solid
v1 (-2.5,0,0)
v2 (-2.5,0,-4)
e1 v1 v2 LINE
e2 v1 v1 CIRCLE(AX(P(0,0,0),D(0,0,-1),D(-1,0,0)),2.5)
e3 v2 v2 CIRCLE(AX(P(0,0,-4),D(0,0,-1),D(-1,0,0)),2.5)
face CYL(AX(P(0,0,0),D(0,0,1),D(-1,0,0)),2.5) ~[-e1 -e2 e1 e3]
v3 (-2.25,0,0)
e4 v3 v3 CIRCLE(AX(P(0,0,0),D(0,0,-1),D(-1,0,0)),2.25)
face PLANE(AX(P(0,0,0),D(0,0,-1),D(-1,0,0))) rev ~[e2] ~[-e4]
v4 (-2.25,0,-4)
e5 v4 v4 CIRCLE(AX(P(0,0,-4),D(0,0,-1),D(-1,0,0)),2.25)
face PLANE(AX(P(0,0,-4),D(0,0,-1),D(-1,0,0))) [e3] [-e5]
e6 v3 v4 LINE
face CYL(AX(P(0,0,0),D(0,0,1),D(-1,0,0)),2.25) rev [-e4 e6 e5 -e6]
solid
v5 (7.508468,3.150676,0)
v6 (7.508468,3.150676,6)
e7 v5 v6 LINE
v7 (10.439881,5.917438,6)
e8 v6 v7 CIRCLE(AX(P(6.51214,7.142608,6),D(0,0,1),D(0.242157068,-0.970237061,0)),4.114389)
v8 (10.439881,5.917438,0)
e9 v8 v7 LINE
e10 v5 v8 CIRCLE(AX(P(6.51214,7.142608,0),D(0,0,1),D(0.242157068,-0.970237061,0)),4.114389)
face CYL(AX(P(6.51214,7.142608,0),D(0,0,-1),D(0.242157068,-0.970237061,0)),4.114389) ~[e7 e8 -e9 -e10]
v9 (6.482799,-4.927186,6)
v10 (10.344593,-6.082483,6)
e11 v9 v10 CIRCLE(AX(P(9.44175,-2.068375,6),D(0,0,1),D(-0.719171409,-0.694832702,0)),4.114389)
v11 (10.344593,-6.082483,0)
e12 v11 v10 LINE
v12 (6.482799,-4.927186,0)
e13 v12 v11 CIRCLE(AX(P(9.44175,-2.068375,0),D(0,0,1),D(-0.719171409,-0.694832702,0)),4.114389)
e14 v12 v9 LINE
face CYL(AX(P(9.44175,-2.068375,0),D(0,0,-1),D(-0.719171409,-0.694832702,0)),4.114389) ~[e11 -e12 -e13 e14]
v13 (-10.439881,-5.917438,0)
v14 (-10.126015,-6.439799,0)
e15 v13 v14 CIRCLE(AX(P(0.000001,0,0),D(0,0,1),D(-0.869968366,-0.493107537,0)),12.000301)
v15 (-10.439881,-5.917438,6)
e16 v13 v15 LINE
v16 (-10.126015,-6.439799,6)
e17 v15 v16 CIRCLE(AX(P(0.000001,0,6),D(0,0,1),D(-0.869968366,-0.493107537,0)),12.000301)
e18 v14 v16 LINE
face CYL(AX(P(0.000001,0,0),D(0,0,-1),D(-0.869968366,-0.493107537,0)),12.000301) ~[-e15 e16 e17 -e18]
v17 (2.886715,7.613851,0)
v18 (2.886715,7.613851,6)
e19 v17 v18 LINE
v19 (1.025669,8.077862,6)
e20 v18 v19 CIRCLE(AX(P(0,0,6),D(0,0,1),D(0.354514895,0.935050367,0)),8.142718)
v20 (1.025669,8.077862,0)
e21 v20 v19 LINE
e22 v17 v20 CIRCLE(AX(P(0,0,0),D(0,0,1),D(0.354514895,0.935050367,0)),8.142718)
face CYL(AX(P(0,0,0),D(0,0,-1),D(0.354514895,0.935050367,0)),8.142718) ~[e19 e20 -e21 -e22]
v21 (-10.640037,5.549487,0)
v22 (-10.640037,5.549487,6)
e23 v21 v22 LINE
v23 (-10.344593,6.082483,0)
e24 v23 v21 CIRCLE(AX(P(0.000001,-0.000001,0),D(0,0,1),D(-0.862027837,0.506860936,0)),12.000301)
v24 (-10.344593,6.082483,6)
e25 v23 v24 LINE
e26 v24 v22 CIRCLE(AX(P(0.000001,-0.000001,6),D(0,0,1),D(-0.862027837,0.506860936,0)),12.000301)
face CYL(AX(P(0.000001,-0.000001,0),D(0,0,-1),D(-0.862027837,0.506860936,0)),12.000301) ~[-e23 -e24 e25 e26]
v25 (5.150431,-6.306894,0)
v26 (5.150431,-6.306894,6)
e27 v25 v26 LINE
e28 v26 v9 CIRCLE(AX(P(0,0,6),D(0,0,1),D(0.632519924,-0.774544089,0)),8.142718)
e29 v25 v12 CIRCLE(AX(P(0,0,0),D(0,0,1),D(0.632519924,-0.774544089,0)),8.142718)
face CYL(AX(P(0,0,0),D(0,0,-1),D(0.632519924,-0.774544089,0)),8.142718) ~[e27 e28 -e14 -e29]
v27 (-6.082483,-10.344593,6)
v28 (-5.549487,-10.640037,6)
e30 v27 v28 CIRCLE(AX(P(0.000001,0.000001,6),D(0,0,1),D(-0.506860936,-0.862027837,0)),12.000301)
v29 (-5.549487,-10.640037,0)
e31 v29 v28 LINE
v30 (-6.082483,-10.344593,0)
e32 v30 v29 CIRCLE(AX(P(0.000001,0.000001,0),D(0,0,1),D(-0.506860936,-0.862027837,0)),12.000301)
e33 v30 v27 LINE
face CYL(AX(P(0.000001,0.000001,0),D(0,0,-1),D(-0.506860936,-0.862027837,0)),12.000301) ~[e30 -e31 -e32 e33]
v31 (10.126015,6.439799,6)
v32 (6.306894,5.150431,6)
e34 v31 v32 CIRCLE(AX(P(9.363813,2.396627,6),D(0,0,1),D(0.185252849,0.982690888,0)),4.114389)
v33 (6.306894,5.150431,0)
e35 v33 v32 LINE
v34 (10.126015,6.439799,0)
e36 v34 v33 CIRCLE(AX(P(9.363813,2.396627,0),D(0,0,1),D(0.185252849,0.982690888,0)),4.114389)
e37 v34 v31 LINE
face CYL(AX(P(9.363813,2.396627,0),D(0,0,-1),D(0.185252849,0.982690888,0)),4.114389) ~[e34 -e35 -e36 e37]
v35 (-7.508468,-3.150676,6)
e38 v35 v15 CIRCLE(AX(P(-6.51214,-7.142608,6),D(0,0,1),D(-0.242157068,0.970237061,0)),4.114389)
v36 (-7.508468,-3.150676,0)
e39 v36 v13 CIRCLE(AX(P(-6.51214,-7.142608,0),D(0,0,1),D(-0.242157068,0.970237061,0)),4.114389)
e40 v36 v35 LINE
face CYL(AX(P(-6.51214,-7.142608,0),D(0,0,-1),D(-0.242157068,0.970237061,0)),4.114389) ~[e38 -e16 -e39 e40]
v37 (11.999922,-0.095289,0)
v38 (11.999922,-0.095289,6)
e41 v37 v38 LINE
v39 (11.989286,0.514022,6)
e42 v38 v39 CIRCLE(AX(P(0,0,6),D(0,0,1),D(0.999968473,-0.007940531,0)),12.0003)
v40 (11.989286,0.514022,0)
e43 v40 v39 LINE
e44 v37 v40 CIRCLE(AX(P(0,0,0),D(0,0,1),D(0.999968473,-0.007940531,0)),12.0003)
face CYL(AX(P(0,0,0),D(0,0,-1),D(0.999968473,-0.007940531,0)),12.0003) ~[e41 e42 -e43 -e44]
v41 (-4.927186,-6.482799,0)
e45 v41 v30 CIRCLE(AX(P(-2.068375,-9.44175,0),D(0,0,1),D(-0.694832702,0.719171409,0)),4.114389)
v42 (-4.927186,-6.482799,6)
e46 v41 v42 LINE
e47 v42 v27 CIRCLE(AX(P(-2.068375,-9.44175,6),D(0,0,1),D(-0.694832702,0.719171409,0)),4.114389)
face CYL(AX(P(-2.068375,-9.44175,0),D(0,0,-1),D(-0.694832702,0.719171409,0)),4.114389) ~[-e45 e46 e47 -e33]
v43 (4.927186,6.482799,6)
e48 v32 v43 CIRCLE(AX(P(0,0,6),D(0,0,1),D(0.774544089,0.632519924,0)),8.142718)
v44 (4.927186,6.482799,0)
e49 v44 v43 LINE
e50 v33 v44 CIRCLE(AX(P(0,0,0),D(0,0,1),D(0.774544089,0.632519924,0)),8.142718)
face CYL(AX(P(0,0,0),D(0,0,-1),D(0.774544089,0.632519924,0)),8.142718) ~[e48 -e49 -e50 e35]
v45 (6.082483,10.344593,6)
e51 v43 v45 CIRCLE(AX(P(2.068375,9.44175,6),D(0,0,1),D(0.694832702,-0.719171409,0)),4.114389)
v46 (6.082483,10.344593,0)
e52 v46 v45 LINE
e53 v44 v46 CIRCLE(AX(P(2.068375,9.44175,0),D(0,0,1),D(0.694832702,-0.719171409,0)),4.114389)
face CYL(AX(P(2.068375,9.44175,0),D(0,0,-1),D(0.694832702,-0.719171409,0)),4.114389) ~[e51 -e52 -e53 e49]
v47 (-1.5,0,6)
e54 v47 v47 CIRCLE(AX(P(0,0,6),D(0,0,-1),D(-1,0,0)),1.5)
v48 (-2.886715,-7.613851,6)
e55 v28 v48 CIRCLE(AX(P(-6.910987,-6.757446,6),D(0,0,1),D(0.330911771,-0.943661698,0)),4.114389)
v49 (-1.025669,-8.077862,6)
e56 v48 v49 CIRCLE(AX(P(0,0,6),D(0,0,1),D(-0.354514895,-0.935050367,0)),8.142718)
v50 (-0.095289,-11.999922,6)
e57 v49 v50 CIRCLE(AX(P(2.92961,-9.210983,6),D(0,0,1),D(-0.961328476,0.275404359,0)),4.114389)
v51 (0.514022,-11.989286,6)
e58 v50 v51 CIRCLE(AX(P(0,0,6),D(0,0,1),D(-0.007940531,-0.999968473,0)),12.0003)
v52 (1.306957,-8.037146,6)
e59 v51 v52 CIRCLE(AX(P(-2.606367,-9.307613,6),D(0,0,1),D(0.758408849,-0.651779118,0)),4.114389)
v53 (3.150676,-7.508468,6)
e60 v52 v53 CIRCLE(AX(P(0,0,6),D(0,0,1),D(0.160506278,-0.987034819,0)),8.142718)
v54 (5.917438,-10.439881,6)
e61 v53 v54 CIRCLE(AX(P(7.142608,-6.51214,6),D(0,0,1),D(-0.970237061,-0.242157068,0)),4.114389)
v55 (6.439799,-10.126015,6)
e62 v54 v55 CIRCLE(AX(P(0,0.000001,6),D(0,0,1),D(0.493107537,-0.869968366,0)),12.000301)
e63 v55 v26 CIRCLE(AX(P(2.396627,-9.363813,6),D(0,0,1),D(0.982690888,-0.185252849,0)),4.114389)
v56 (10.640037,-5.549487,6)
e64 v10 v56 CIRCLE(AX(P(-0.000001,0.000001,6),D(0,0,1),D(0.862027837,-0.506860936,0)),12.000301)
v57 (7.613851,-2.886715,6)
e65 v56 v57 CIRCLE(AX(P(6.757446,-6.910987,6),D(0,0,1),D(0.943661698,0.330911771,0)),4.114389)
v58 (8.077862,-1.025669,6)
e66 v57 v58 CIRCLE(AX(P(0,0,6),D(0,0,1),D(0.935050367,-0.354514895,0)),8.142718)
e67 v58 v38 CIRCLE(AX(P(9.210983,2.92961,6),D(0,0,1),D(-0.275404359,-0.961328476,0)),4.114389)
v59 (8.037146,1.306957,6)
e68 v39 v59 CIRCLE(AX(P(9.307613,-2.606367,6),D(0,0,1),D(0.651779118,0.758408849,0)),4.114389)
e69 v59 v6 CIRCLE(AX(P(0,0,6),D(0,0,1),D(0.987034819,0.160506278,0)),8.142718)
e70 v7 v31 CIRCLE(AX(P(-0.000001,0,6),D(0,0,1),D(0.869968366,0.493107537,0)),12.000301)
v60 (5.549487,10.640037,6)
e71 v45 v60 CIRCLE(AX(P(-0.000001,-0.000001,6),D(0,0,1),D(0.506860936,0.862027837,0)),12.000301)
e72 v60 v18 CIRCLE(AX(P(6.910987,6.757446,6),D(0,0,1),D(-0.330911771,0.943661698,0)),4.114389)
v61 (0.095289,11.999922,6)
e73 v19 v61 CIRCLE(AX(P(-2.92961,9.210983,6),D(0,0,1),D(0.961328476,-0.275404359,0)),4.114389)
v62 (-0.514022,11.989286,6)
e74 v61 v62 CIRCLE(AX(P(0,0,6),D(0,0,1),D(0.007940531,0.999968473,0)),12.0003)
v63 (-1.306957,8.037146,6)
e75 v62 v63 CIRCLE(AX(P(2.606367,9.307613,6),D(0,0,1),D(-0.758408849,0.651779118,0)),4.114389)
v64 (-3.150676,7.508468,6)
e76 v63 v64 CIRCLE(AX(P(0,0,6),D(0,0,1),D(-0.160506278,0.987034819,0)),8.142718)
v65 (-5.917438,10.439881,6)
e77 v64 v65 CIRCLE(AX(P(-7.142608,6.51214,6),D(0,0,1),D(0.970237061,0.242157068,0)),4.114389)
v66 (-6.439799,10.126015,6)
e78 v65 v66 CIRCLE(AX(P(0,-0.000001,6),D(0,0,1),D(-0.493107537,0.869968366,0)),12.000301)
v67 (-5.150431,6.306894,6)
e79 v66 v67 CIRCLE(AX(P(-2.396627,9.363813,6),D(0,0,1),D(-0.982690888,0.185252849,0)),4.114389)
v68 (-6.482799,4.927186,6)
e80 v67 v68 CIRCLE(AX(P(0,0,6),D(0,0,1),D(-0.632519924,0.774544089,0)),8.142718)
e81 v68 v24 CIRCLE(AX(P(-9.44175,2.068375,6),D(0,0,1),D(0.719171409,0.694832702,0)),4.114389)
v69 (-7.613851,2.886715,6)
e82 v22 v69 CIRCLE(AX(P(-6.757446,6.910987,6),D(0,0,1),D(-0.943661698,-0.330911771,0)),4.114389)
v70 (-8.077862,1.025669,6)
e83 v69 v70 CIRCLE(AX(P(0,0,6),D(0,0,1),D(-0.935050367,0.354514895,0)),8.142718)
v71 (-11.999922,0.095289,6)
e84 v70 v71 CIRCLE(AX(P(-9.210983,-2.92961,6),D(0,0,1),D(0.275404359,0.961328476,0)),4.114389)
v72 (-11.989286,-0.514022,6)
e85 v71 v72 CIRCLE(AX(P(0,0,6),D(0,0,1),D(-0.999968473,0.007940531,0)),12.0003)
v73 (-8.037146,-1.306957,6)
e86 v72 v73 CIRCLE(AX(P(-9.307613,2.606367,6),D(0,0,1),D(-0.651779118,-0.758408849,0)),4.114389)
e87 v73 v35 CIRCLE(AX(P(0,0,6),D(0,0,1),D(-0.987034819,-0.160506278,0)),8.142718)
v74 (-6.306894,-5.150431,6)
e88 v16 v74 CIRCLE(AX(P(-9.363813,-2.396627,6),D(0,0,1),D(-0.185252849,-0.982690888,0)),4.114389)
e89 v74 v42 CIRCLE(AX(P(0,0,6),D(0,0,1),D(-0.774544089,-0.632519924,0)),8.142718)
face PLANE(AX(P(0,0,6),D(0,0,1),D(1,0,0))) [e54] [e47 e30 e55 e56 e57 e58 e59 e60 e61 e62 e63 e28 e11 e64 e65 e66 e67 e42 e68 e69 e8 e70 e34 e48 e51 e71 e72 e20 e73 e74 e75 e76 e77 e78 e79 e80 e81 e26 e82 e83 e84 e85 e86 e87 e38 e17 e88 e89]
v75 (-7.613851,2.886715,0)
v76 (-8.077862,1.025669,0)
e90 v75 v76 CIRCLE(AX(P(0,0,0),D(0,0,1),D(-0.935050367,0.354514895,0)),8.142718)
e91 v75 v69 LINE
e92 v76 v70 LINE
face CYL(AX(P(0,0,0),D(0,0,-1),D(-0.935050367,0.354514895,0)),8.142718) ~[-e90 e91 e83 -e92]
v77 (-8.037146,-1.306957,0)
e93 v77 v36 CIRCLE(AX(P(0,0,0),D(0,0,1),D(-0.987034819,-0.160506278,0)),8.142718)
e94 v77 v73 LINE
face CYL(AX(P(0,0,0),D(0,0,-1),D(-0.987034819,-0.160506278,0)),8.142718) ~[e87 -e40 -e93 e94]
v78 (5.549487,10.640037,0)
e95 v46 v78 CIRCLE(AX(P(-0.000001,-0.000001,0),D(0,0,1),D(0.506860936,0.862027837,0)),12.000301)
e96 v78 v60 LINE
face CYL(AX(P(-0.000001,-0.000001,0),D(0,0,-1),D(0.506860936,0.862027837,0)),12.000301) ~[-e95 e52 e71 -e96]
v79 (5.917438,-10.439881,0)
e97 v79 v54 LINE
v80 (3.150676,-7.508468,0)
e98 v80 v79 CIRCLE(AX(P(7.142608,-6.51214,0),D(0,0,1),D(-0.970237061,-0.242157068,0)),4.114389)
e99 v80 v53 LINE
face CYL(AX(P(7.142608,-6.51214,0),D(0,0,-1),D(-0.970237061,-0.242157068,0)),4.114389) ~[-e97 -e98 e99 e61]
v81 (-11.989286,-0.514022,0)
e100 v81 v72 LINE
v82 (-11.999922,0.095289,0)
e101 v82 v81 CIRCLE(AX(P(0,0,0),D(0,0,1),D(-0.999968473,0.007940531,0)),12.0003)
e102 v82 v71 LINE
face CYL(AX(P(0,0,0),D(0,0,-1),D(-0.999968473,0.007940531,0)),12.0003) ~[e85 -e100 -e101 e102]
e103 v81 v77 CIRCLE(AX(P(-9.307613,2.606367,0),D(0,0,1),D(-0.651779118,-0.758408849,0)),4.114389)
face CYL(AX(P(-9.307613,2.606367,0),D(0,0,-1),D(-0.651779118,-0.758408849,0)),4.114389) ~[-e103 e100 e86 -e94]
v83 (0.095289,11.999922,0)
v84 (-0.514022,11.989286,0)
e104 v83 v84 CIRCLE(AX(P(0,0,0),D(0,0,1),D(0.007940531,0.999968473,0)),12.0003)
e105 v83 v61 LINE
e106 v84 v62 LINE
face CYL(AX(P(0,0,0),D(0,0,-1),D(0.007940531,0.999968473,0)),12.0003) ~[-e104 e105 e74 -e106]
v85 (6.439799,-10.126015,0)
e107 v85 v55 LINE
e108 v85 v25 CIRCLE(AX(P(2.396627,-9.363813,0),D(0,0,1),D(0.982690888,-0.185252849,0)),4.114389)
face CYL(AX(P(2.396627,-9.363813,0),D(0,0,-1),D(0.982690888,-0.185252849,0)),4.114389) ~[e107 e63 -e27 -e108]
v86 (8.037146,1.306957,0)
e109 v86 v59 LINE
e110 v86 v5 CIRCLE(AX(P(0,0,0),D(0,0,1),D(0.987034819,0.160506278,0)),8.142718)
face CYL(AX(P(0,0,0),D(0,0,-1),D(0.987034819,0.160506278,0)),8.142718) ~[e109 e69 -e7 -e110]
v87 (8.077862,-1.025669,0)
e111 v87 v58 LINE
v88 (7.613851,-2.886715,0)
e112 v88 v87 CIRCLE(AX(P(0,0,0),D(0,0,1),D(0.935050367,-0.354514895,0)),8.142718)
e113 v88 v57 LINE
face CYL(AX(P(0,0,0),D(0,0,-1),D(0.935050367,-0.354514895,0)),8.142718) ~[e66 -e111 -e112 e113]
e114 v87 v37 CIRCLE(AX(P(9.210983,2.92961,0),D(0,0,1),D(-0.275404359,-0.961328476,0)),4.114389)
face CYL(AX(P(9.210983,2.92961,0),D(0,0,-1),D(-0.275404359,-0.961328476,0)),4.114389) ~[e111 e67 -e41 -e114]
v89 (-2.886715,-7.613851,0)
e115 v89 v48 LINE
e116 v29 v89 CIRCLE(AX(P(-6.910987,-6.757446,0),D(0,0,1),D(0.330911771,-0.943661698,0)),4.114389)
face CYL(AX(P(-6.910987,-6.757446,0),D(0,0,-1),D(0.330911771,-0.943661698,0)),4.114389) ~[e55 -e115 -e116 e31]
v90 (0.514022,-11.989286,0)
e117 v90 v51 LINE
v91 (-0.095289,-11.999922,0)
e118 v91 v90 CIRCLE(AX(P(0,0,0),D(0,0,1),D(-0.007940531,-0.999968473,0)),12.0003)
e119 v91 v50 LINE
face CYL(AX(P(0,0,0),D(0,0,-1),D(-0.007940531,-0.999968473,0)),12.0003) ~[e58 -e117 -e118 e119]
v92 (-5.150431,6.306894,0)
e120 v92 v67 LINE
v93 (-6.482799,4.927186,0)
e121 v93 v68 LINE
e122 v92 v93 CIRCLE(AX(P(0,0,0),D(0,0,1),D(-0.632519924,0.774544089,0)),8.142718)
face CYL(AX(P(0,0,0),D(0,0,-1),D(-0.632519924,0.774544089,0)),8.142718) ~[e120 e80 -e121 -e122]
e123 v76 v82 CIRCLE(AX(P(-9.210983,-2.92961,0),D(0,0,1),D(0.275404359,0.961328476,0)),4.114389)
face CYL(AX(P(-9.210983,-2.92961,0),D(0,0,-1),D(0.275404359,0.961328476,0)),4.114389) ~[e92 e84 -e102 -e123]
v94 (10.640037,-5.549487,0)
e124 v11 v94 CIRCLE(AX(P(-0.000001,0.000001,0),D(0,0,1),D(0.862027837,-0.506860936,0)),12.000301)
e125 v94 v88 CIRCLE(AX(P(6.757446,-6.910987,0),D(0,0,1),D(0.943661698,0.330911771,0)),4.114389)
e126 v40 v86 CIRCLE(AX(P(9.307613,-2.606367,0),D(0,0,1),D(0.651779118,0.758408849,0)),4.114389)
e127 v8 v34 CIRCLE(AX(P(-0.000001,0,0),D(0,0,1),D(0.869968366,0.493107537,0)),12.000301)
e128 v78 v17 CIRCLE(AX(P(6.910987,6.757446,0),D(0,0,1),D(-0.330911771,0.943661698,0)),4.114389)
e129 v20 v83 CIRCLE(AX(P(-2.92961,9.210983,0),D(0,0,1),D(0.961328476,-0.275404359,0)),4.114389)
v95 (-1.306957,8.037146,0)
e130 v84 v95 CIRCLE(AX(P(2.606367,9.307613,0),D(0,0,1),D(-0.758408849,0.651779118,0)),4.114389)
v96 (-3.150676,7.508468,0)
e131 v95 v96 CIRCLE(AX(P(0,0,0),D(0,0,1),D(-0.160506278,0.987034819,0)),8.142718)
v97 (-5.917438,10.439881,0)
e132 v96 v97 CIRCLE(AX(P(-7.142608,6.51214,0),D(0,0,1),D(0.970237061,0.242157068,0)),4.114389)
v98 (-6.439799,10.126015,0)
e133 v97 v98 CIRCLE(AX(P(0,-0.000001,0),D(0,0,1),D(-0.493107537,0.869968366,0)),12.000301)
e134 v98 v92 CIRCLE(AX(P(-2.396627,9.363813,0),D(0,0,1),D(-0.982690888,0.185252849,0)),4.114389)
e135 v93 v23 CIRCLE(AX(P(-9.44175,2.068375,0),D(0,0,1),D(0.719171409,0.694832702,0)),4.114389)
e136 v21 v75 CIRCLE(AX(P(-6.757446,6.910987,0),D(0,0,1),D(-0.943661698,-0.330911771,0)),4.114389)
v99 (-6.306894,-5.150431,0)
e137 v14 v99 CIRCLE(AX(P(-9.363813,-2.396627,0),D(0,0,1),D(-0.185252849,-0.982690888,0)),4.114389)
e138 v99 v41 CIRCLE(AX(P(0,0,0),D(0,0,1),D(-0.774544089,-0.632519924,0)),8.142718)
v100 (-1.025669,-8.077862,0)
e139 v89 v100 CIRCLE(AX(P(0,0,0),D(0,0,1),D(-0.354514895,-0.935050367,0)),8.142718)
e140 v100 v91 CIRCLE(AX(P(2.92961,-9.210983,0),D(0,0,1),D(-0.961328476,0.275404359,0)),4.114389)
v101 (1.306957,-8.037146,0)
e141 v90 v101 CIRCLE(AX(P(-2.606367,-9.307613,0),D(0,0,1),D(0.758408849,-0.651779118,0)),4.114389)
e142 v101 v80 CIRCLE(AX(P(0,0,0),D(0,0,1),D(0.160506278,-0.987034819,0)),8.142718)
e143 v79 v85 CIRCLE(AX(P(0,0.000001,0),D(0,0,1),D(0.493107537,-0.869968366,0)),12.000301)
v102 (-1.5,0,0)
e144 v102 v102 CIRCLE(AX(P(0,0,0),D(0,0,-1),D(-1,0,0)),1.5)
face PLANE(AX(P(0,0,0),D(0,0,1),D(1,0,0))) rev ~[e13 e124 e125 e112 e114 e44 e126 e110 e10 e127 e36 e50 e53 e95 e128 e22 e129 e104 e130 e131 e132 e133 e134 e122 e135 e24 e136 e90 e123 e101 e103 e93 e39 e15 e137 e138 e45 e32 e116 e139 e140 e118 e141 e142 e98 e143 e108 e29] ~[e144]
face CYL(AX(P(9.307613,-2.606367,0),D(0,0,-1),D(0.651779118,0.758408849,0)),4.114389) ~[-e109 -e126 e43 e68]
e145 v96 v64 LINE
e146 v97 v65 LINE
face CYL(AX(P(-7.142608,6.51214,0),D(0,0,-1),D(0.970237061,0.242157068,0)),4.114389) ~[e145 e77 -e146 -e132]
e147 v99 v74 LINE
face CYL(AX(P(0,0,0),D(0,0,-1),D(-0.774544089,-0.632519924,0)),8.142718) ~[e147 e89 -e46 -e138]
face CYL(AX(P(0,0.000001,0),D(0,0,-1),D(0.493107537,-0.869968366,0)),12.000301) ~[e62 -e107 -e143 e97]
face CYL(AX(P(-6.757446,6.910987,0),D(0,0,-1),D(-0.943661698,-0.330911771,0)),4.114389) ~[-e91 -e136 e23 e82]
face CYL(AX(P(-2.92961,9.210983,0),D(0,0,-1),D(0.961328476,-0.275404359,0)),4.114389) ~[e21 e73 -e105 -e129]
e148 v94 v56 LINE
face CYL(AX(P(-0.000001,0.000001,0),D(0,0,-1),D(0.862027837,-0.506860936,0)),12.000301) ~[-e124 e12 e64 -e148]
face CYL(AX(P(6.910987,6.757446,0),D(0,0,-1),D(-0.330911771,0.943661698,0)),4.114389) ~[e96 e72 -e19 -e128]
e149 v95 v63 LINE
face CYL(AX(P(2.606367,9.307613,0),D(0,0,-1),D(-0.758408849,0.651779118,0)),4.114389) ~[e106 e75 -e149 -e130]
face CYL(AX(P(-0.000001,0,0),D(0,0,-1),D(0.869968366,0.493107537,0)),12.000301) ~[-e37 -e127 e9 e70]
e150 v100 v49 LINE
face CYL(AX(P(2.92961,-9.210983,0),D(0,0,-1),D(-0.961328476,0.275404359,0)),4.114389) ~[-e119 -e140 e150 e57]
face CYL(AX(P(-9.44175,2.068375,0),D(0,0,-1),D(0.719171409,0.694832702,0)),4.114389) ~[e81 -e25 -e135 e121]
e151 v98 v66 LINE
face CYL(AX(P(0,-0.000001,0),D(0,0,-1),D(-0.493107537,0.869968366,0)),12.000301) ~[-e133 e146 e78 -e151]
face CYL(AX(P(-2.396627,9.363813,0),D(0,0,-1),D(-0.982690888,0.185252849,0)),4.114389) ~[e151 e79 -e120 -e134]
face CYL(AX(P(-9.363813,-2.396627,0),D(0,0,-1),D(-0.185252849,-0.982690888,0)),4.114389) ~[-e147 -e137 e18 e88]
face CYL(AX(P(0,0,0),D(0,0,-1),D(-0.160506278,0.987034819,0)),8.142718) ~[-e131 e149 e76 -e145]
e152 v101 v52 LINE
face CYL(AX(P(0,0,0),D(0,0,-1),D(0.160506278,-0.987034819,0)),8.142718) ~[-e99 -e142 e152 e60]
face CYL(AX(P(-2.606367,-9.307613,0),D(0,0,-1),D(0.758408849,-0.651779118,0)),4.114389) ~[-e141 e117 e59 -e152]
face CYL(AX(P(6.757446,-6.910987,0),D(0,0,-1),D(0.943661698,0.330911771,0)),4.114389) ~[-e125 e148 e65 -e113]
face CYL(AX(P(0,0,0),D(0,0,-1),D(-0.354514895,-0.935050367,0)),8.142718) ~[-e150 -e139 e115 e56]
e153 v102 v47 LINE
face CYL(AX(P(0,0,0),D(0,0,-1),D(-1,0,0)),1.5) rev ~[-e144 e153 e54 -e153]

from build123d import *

# Parameters (mm, degrees)
BOSS_EXTRUDE1_DEPTH = 6
SKETCH3_R           = 1.5
CUT_EXTRUDE1_DEPTH  = 19.000399801
SKETCH4_R           = 2.5
SKETCH4_R_2         = 2.25
BOSS_EXTRUDE2_DEPTH = 4


with BuildPart() as part:
    # Sketch1 → Boss-Extrude1 (new body)
    with BuildSketch(Plane.XY):
        with BuildLine():
            ThreePointArc((-10.640037181, 5.549486938), (-9.475370008, 3.822122054), (-7.61385122, 2.886714725))
            ThreePointArc((-7.61385122, 2.886714725), (-7.90084423, 1.969901713), (-8.07786208, 1.025668813))
            ThreePointArc((-8.07786208, 1.025668813), (-10.160632754, 1.073683298), (-11.999921522, 0.095288749))
            ThreePointArc((-11.999921522, 0.095288749), (-11.998472146, -0.20943411), (-11.989285965, -0.514021924))
            ThreePointArc((-11.989285965, -0.514021924), (-10.116972164, -1.427630209), (-8.03714594, -1.306957324))
            ThreePointArc((-8.03714594, -1.306957324), (-7.827282671, -2.244437189), (-7.508468176, -3.150675792))
            ThreePointArc((-7.508468176, -3.150675792), (-9.336207732, -4.150479365), (-10.439881257, -5.917438283))
            ThreePointArc((-10.439881257, -5.917438283), (-10.28626463, -6.180611333), (-10.126015257, -6.439799027))
            ThreePointArc((-10.126015257, -6.439799027), (-8.047739799, -6.29485011), (-6.306893895, -5.150431214))
            ThreePointArc((-6.306893895, -5.150431214), (-5.656407041, -5.857380958), (-4.927186288, -6.482799363))
            ThreePointArc((-4.927186288, -6.482799363), (-6.010153389, -8.262524434), (-6.082483239, -10.344592507))
            ThreePointArc((-6.082483239, -10.344592507), (-5.817860813, -10.49569874), (-5.549486938, -10.640037181))
            ThreePointArc((-5.549486938, -10.640037181), (-3.822122054, -9.475370008), (-2.886714725, -7.61385122))
            ThreePointArc((-2.886714725, -7.61385122), (-1.969901713, -7.90084423), (-1.025668813, -8.07786208))
            ThreePointArc((-1.025668813, -8.07786208), (-1.073683298, -10.160632754), (-0.095288749, -11.999921522))
            ThreePointArc((-0.095288749, -11.999921522), (0.20943411, -11.998472146), (0.514021924, -11.989285965))
            ThreePointArc((0.514021924, -11.989285965), (1.427630209, -10.116972164), (1.306957324, -8.03714594))
            ThreePointArc((1.306957324, -8.03714594), (2.244437189, -7.827282671), (3.150675792, -7.508468176))
            ThreePointArc((3.150675792, -7.508468176), (4.150479365, -9.336207732), (5.917438283, -10.439881257))
            ThreePointArc((5.917438283, -10.439881257), (6.180611333, -10.28626463), (6.439799027, -10.126015257))
            ThreePointArc((6.439799027, -10.126015257), (6.29485011, -8.047739799), (5.150431214, -6.306893895))
            ThreePointArc((5.150431214, -6.306893895), (5.857380958, -5.656407041), (6.482799363, -4.927186288))
            ThreePointArc((6.482799363, -4.927186288), (8.262524434, -6.010153389), (10.344592507, -6.082483239))
            ThreePointArc((10.344592507, -6.082483239), (10.49569874, -5.817860813), (10.640037181, -5.549486938))
            ThreePointArc((10.640037181, -5.549486938), (9.475370008, -3.822122054), (7.61385122, -2.886714725))
            ThreePointArc((7.61385122, -2.886714725), (7.90084423, -1.969901713), (8.07786208, -1.025668813))
            ThreePointArc((8.07786208, -1.025668813), (10.160632754, -1.073683298), (11.999921522, -0.095288749))
            ThreePointArc((11.999921522, -0.095288749), (11.998472146, 0.20943411), (11.989285965, 0.514021924))
            ThreePointArc((11.989285965, 0.514021924), (10.116972164, 1.427630209), (8.03714594, 1.306957324))
            ThreePointArc((8.03714594, 1.306957324), (7.827282671, 2.244437189), (7.508468176, 3.150675792))
            ThreePointArc((7.508468176, 3.150675792), (9.336207732, 4.150479365), (10.439881257, 5.917438283))
            ThreePointArc((10.439881257, 5.917438283), (10.28626463, 6.180611333), (10.126015257, 6.439799027))
            ThreePointArc((10.126015257, 6.439799027), (8.047739799, 6.29485011), (6.306893895, 5.150431214))
            ThreePointArc((6.306893895, 5.150431214), (5.656407041, 5.857380958), (4.927186288, 6.482799363))
            ThreePointArc((4.927186288, 6.482799363), (6.010153389, 8.262524434), (6.082483239, 10.344592507))
            ThreePointArc((6.082483239, 10.344592507), (5.817860813, 10.49569874), (5.549486938, 10.640037181))
            ThreePointArc((5.549486938, 10.640037181), (3.822122054, 9.475370008), (2.886714725, 7.61385122))
            ThreePointArc((2.886714725, 7.61385122), (1.969901713, 7.90084423), (1.025668813, 8.07786208))
            ThreePointArc((1.025668813, 8.07786208), (1.073683298, 10.160632754), (0.095288749, 11.999921522))
            ThreePointArc((0.095288749, 11.999921522), (-0.20943411, 11.998472146), (-0.514021924, 11.989285965))
            ThreePointArc((-0.514021924, 11.989285965), (-1.427630209, 10.116972164), (-1.306957324, 8.03714594))
            ThreePointArc((-1.306957324, 8.03714594), (-2.244437189, 7.827282671), (-3.150675792, 7.508468176))
            ThreePointArc((-3.150675792, 7.508468176), (-4.150479365, 9.336207732), (-5.917438283, 10.439881257))
            ThreePointArc((-5.917438283, 10.439881257), (-6.180611333, 10.28626463), (-6.439799027, 10.126015257))
            ThreePointArc((-6.439799027, 10.126015257), (-6.29485011, 8.047739799), (-5.150431214, 6.306893895))
            ThreePointArc((-5.150431214, 6.306893895), (-5.857380958, 5.656407041), (-6.482799363, 4.927186288))
            ThreePointArc((-6.482799363, 4.927186288), (-8.262524434, 6.010153389), (-10.344592507, 6.082483239))
            ThreePointArc((-10.344592507, 6.082483239), (-10.49569874, 5.817860813), (-10.640037181, 5.549486938))
        make_face()
    extrude(amount=BOSS_EXTRUDE1_DEPTH)

    # Sketch3 → Cut-Extrude1 (cut, through all)
    with BuildSketch(Plane(origin=(0, 0, 0), x_dir=(-1, 0, 0), z_dir=(0, 0, -1))):
        Circle(SKETCH3_R)
    extrude(amount=-CUT_EXTRUDE1_DEPTH, mode=Mode.SUBTRACT)


with BuildPart() as body_2:
    # Sketch4 → Boss-Extrude2 (new body)
    with BuildSketch(Plane(origin=(0, 0, 0), x_dir=(-1, 0, 0), z_dir=(0, 0, -1))):
        Circle(SKETCH4_R)
        Circle(SKETCH4_R_2, mode=Mode.SUBTRACT)
    extrude(amount=BOSS_EXTRUDE2_DEPTH)


solid = Compound([part.part, body_2.part])
